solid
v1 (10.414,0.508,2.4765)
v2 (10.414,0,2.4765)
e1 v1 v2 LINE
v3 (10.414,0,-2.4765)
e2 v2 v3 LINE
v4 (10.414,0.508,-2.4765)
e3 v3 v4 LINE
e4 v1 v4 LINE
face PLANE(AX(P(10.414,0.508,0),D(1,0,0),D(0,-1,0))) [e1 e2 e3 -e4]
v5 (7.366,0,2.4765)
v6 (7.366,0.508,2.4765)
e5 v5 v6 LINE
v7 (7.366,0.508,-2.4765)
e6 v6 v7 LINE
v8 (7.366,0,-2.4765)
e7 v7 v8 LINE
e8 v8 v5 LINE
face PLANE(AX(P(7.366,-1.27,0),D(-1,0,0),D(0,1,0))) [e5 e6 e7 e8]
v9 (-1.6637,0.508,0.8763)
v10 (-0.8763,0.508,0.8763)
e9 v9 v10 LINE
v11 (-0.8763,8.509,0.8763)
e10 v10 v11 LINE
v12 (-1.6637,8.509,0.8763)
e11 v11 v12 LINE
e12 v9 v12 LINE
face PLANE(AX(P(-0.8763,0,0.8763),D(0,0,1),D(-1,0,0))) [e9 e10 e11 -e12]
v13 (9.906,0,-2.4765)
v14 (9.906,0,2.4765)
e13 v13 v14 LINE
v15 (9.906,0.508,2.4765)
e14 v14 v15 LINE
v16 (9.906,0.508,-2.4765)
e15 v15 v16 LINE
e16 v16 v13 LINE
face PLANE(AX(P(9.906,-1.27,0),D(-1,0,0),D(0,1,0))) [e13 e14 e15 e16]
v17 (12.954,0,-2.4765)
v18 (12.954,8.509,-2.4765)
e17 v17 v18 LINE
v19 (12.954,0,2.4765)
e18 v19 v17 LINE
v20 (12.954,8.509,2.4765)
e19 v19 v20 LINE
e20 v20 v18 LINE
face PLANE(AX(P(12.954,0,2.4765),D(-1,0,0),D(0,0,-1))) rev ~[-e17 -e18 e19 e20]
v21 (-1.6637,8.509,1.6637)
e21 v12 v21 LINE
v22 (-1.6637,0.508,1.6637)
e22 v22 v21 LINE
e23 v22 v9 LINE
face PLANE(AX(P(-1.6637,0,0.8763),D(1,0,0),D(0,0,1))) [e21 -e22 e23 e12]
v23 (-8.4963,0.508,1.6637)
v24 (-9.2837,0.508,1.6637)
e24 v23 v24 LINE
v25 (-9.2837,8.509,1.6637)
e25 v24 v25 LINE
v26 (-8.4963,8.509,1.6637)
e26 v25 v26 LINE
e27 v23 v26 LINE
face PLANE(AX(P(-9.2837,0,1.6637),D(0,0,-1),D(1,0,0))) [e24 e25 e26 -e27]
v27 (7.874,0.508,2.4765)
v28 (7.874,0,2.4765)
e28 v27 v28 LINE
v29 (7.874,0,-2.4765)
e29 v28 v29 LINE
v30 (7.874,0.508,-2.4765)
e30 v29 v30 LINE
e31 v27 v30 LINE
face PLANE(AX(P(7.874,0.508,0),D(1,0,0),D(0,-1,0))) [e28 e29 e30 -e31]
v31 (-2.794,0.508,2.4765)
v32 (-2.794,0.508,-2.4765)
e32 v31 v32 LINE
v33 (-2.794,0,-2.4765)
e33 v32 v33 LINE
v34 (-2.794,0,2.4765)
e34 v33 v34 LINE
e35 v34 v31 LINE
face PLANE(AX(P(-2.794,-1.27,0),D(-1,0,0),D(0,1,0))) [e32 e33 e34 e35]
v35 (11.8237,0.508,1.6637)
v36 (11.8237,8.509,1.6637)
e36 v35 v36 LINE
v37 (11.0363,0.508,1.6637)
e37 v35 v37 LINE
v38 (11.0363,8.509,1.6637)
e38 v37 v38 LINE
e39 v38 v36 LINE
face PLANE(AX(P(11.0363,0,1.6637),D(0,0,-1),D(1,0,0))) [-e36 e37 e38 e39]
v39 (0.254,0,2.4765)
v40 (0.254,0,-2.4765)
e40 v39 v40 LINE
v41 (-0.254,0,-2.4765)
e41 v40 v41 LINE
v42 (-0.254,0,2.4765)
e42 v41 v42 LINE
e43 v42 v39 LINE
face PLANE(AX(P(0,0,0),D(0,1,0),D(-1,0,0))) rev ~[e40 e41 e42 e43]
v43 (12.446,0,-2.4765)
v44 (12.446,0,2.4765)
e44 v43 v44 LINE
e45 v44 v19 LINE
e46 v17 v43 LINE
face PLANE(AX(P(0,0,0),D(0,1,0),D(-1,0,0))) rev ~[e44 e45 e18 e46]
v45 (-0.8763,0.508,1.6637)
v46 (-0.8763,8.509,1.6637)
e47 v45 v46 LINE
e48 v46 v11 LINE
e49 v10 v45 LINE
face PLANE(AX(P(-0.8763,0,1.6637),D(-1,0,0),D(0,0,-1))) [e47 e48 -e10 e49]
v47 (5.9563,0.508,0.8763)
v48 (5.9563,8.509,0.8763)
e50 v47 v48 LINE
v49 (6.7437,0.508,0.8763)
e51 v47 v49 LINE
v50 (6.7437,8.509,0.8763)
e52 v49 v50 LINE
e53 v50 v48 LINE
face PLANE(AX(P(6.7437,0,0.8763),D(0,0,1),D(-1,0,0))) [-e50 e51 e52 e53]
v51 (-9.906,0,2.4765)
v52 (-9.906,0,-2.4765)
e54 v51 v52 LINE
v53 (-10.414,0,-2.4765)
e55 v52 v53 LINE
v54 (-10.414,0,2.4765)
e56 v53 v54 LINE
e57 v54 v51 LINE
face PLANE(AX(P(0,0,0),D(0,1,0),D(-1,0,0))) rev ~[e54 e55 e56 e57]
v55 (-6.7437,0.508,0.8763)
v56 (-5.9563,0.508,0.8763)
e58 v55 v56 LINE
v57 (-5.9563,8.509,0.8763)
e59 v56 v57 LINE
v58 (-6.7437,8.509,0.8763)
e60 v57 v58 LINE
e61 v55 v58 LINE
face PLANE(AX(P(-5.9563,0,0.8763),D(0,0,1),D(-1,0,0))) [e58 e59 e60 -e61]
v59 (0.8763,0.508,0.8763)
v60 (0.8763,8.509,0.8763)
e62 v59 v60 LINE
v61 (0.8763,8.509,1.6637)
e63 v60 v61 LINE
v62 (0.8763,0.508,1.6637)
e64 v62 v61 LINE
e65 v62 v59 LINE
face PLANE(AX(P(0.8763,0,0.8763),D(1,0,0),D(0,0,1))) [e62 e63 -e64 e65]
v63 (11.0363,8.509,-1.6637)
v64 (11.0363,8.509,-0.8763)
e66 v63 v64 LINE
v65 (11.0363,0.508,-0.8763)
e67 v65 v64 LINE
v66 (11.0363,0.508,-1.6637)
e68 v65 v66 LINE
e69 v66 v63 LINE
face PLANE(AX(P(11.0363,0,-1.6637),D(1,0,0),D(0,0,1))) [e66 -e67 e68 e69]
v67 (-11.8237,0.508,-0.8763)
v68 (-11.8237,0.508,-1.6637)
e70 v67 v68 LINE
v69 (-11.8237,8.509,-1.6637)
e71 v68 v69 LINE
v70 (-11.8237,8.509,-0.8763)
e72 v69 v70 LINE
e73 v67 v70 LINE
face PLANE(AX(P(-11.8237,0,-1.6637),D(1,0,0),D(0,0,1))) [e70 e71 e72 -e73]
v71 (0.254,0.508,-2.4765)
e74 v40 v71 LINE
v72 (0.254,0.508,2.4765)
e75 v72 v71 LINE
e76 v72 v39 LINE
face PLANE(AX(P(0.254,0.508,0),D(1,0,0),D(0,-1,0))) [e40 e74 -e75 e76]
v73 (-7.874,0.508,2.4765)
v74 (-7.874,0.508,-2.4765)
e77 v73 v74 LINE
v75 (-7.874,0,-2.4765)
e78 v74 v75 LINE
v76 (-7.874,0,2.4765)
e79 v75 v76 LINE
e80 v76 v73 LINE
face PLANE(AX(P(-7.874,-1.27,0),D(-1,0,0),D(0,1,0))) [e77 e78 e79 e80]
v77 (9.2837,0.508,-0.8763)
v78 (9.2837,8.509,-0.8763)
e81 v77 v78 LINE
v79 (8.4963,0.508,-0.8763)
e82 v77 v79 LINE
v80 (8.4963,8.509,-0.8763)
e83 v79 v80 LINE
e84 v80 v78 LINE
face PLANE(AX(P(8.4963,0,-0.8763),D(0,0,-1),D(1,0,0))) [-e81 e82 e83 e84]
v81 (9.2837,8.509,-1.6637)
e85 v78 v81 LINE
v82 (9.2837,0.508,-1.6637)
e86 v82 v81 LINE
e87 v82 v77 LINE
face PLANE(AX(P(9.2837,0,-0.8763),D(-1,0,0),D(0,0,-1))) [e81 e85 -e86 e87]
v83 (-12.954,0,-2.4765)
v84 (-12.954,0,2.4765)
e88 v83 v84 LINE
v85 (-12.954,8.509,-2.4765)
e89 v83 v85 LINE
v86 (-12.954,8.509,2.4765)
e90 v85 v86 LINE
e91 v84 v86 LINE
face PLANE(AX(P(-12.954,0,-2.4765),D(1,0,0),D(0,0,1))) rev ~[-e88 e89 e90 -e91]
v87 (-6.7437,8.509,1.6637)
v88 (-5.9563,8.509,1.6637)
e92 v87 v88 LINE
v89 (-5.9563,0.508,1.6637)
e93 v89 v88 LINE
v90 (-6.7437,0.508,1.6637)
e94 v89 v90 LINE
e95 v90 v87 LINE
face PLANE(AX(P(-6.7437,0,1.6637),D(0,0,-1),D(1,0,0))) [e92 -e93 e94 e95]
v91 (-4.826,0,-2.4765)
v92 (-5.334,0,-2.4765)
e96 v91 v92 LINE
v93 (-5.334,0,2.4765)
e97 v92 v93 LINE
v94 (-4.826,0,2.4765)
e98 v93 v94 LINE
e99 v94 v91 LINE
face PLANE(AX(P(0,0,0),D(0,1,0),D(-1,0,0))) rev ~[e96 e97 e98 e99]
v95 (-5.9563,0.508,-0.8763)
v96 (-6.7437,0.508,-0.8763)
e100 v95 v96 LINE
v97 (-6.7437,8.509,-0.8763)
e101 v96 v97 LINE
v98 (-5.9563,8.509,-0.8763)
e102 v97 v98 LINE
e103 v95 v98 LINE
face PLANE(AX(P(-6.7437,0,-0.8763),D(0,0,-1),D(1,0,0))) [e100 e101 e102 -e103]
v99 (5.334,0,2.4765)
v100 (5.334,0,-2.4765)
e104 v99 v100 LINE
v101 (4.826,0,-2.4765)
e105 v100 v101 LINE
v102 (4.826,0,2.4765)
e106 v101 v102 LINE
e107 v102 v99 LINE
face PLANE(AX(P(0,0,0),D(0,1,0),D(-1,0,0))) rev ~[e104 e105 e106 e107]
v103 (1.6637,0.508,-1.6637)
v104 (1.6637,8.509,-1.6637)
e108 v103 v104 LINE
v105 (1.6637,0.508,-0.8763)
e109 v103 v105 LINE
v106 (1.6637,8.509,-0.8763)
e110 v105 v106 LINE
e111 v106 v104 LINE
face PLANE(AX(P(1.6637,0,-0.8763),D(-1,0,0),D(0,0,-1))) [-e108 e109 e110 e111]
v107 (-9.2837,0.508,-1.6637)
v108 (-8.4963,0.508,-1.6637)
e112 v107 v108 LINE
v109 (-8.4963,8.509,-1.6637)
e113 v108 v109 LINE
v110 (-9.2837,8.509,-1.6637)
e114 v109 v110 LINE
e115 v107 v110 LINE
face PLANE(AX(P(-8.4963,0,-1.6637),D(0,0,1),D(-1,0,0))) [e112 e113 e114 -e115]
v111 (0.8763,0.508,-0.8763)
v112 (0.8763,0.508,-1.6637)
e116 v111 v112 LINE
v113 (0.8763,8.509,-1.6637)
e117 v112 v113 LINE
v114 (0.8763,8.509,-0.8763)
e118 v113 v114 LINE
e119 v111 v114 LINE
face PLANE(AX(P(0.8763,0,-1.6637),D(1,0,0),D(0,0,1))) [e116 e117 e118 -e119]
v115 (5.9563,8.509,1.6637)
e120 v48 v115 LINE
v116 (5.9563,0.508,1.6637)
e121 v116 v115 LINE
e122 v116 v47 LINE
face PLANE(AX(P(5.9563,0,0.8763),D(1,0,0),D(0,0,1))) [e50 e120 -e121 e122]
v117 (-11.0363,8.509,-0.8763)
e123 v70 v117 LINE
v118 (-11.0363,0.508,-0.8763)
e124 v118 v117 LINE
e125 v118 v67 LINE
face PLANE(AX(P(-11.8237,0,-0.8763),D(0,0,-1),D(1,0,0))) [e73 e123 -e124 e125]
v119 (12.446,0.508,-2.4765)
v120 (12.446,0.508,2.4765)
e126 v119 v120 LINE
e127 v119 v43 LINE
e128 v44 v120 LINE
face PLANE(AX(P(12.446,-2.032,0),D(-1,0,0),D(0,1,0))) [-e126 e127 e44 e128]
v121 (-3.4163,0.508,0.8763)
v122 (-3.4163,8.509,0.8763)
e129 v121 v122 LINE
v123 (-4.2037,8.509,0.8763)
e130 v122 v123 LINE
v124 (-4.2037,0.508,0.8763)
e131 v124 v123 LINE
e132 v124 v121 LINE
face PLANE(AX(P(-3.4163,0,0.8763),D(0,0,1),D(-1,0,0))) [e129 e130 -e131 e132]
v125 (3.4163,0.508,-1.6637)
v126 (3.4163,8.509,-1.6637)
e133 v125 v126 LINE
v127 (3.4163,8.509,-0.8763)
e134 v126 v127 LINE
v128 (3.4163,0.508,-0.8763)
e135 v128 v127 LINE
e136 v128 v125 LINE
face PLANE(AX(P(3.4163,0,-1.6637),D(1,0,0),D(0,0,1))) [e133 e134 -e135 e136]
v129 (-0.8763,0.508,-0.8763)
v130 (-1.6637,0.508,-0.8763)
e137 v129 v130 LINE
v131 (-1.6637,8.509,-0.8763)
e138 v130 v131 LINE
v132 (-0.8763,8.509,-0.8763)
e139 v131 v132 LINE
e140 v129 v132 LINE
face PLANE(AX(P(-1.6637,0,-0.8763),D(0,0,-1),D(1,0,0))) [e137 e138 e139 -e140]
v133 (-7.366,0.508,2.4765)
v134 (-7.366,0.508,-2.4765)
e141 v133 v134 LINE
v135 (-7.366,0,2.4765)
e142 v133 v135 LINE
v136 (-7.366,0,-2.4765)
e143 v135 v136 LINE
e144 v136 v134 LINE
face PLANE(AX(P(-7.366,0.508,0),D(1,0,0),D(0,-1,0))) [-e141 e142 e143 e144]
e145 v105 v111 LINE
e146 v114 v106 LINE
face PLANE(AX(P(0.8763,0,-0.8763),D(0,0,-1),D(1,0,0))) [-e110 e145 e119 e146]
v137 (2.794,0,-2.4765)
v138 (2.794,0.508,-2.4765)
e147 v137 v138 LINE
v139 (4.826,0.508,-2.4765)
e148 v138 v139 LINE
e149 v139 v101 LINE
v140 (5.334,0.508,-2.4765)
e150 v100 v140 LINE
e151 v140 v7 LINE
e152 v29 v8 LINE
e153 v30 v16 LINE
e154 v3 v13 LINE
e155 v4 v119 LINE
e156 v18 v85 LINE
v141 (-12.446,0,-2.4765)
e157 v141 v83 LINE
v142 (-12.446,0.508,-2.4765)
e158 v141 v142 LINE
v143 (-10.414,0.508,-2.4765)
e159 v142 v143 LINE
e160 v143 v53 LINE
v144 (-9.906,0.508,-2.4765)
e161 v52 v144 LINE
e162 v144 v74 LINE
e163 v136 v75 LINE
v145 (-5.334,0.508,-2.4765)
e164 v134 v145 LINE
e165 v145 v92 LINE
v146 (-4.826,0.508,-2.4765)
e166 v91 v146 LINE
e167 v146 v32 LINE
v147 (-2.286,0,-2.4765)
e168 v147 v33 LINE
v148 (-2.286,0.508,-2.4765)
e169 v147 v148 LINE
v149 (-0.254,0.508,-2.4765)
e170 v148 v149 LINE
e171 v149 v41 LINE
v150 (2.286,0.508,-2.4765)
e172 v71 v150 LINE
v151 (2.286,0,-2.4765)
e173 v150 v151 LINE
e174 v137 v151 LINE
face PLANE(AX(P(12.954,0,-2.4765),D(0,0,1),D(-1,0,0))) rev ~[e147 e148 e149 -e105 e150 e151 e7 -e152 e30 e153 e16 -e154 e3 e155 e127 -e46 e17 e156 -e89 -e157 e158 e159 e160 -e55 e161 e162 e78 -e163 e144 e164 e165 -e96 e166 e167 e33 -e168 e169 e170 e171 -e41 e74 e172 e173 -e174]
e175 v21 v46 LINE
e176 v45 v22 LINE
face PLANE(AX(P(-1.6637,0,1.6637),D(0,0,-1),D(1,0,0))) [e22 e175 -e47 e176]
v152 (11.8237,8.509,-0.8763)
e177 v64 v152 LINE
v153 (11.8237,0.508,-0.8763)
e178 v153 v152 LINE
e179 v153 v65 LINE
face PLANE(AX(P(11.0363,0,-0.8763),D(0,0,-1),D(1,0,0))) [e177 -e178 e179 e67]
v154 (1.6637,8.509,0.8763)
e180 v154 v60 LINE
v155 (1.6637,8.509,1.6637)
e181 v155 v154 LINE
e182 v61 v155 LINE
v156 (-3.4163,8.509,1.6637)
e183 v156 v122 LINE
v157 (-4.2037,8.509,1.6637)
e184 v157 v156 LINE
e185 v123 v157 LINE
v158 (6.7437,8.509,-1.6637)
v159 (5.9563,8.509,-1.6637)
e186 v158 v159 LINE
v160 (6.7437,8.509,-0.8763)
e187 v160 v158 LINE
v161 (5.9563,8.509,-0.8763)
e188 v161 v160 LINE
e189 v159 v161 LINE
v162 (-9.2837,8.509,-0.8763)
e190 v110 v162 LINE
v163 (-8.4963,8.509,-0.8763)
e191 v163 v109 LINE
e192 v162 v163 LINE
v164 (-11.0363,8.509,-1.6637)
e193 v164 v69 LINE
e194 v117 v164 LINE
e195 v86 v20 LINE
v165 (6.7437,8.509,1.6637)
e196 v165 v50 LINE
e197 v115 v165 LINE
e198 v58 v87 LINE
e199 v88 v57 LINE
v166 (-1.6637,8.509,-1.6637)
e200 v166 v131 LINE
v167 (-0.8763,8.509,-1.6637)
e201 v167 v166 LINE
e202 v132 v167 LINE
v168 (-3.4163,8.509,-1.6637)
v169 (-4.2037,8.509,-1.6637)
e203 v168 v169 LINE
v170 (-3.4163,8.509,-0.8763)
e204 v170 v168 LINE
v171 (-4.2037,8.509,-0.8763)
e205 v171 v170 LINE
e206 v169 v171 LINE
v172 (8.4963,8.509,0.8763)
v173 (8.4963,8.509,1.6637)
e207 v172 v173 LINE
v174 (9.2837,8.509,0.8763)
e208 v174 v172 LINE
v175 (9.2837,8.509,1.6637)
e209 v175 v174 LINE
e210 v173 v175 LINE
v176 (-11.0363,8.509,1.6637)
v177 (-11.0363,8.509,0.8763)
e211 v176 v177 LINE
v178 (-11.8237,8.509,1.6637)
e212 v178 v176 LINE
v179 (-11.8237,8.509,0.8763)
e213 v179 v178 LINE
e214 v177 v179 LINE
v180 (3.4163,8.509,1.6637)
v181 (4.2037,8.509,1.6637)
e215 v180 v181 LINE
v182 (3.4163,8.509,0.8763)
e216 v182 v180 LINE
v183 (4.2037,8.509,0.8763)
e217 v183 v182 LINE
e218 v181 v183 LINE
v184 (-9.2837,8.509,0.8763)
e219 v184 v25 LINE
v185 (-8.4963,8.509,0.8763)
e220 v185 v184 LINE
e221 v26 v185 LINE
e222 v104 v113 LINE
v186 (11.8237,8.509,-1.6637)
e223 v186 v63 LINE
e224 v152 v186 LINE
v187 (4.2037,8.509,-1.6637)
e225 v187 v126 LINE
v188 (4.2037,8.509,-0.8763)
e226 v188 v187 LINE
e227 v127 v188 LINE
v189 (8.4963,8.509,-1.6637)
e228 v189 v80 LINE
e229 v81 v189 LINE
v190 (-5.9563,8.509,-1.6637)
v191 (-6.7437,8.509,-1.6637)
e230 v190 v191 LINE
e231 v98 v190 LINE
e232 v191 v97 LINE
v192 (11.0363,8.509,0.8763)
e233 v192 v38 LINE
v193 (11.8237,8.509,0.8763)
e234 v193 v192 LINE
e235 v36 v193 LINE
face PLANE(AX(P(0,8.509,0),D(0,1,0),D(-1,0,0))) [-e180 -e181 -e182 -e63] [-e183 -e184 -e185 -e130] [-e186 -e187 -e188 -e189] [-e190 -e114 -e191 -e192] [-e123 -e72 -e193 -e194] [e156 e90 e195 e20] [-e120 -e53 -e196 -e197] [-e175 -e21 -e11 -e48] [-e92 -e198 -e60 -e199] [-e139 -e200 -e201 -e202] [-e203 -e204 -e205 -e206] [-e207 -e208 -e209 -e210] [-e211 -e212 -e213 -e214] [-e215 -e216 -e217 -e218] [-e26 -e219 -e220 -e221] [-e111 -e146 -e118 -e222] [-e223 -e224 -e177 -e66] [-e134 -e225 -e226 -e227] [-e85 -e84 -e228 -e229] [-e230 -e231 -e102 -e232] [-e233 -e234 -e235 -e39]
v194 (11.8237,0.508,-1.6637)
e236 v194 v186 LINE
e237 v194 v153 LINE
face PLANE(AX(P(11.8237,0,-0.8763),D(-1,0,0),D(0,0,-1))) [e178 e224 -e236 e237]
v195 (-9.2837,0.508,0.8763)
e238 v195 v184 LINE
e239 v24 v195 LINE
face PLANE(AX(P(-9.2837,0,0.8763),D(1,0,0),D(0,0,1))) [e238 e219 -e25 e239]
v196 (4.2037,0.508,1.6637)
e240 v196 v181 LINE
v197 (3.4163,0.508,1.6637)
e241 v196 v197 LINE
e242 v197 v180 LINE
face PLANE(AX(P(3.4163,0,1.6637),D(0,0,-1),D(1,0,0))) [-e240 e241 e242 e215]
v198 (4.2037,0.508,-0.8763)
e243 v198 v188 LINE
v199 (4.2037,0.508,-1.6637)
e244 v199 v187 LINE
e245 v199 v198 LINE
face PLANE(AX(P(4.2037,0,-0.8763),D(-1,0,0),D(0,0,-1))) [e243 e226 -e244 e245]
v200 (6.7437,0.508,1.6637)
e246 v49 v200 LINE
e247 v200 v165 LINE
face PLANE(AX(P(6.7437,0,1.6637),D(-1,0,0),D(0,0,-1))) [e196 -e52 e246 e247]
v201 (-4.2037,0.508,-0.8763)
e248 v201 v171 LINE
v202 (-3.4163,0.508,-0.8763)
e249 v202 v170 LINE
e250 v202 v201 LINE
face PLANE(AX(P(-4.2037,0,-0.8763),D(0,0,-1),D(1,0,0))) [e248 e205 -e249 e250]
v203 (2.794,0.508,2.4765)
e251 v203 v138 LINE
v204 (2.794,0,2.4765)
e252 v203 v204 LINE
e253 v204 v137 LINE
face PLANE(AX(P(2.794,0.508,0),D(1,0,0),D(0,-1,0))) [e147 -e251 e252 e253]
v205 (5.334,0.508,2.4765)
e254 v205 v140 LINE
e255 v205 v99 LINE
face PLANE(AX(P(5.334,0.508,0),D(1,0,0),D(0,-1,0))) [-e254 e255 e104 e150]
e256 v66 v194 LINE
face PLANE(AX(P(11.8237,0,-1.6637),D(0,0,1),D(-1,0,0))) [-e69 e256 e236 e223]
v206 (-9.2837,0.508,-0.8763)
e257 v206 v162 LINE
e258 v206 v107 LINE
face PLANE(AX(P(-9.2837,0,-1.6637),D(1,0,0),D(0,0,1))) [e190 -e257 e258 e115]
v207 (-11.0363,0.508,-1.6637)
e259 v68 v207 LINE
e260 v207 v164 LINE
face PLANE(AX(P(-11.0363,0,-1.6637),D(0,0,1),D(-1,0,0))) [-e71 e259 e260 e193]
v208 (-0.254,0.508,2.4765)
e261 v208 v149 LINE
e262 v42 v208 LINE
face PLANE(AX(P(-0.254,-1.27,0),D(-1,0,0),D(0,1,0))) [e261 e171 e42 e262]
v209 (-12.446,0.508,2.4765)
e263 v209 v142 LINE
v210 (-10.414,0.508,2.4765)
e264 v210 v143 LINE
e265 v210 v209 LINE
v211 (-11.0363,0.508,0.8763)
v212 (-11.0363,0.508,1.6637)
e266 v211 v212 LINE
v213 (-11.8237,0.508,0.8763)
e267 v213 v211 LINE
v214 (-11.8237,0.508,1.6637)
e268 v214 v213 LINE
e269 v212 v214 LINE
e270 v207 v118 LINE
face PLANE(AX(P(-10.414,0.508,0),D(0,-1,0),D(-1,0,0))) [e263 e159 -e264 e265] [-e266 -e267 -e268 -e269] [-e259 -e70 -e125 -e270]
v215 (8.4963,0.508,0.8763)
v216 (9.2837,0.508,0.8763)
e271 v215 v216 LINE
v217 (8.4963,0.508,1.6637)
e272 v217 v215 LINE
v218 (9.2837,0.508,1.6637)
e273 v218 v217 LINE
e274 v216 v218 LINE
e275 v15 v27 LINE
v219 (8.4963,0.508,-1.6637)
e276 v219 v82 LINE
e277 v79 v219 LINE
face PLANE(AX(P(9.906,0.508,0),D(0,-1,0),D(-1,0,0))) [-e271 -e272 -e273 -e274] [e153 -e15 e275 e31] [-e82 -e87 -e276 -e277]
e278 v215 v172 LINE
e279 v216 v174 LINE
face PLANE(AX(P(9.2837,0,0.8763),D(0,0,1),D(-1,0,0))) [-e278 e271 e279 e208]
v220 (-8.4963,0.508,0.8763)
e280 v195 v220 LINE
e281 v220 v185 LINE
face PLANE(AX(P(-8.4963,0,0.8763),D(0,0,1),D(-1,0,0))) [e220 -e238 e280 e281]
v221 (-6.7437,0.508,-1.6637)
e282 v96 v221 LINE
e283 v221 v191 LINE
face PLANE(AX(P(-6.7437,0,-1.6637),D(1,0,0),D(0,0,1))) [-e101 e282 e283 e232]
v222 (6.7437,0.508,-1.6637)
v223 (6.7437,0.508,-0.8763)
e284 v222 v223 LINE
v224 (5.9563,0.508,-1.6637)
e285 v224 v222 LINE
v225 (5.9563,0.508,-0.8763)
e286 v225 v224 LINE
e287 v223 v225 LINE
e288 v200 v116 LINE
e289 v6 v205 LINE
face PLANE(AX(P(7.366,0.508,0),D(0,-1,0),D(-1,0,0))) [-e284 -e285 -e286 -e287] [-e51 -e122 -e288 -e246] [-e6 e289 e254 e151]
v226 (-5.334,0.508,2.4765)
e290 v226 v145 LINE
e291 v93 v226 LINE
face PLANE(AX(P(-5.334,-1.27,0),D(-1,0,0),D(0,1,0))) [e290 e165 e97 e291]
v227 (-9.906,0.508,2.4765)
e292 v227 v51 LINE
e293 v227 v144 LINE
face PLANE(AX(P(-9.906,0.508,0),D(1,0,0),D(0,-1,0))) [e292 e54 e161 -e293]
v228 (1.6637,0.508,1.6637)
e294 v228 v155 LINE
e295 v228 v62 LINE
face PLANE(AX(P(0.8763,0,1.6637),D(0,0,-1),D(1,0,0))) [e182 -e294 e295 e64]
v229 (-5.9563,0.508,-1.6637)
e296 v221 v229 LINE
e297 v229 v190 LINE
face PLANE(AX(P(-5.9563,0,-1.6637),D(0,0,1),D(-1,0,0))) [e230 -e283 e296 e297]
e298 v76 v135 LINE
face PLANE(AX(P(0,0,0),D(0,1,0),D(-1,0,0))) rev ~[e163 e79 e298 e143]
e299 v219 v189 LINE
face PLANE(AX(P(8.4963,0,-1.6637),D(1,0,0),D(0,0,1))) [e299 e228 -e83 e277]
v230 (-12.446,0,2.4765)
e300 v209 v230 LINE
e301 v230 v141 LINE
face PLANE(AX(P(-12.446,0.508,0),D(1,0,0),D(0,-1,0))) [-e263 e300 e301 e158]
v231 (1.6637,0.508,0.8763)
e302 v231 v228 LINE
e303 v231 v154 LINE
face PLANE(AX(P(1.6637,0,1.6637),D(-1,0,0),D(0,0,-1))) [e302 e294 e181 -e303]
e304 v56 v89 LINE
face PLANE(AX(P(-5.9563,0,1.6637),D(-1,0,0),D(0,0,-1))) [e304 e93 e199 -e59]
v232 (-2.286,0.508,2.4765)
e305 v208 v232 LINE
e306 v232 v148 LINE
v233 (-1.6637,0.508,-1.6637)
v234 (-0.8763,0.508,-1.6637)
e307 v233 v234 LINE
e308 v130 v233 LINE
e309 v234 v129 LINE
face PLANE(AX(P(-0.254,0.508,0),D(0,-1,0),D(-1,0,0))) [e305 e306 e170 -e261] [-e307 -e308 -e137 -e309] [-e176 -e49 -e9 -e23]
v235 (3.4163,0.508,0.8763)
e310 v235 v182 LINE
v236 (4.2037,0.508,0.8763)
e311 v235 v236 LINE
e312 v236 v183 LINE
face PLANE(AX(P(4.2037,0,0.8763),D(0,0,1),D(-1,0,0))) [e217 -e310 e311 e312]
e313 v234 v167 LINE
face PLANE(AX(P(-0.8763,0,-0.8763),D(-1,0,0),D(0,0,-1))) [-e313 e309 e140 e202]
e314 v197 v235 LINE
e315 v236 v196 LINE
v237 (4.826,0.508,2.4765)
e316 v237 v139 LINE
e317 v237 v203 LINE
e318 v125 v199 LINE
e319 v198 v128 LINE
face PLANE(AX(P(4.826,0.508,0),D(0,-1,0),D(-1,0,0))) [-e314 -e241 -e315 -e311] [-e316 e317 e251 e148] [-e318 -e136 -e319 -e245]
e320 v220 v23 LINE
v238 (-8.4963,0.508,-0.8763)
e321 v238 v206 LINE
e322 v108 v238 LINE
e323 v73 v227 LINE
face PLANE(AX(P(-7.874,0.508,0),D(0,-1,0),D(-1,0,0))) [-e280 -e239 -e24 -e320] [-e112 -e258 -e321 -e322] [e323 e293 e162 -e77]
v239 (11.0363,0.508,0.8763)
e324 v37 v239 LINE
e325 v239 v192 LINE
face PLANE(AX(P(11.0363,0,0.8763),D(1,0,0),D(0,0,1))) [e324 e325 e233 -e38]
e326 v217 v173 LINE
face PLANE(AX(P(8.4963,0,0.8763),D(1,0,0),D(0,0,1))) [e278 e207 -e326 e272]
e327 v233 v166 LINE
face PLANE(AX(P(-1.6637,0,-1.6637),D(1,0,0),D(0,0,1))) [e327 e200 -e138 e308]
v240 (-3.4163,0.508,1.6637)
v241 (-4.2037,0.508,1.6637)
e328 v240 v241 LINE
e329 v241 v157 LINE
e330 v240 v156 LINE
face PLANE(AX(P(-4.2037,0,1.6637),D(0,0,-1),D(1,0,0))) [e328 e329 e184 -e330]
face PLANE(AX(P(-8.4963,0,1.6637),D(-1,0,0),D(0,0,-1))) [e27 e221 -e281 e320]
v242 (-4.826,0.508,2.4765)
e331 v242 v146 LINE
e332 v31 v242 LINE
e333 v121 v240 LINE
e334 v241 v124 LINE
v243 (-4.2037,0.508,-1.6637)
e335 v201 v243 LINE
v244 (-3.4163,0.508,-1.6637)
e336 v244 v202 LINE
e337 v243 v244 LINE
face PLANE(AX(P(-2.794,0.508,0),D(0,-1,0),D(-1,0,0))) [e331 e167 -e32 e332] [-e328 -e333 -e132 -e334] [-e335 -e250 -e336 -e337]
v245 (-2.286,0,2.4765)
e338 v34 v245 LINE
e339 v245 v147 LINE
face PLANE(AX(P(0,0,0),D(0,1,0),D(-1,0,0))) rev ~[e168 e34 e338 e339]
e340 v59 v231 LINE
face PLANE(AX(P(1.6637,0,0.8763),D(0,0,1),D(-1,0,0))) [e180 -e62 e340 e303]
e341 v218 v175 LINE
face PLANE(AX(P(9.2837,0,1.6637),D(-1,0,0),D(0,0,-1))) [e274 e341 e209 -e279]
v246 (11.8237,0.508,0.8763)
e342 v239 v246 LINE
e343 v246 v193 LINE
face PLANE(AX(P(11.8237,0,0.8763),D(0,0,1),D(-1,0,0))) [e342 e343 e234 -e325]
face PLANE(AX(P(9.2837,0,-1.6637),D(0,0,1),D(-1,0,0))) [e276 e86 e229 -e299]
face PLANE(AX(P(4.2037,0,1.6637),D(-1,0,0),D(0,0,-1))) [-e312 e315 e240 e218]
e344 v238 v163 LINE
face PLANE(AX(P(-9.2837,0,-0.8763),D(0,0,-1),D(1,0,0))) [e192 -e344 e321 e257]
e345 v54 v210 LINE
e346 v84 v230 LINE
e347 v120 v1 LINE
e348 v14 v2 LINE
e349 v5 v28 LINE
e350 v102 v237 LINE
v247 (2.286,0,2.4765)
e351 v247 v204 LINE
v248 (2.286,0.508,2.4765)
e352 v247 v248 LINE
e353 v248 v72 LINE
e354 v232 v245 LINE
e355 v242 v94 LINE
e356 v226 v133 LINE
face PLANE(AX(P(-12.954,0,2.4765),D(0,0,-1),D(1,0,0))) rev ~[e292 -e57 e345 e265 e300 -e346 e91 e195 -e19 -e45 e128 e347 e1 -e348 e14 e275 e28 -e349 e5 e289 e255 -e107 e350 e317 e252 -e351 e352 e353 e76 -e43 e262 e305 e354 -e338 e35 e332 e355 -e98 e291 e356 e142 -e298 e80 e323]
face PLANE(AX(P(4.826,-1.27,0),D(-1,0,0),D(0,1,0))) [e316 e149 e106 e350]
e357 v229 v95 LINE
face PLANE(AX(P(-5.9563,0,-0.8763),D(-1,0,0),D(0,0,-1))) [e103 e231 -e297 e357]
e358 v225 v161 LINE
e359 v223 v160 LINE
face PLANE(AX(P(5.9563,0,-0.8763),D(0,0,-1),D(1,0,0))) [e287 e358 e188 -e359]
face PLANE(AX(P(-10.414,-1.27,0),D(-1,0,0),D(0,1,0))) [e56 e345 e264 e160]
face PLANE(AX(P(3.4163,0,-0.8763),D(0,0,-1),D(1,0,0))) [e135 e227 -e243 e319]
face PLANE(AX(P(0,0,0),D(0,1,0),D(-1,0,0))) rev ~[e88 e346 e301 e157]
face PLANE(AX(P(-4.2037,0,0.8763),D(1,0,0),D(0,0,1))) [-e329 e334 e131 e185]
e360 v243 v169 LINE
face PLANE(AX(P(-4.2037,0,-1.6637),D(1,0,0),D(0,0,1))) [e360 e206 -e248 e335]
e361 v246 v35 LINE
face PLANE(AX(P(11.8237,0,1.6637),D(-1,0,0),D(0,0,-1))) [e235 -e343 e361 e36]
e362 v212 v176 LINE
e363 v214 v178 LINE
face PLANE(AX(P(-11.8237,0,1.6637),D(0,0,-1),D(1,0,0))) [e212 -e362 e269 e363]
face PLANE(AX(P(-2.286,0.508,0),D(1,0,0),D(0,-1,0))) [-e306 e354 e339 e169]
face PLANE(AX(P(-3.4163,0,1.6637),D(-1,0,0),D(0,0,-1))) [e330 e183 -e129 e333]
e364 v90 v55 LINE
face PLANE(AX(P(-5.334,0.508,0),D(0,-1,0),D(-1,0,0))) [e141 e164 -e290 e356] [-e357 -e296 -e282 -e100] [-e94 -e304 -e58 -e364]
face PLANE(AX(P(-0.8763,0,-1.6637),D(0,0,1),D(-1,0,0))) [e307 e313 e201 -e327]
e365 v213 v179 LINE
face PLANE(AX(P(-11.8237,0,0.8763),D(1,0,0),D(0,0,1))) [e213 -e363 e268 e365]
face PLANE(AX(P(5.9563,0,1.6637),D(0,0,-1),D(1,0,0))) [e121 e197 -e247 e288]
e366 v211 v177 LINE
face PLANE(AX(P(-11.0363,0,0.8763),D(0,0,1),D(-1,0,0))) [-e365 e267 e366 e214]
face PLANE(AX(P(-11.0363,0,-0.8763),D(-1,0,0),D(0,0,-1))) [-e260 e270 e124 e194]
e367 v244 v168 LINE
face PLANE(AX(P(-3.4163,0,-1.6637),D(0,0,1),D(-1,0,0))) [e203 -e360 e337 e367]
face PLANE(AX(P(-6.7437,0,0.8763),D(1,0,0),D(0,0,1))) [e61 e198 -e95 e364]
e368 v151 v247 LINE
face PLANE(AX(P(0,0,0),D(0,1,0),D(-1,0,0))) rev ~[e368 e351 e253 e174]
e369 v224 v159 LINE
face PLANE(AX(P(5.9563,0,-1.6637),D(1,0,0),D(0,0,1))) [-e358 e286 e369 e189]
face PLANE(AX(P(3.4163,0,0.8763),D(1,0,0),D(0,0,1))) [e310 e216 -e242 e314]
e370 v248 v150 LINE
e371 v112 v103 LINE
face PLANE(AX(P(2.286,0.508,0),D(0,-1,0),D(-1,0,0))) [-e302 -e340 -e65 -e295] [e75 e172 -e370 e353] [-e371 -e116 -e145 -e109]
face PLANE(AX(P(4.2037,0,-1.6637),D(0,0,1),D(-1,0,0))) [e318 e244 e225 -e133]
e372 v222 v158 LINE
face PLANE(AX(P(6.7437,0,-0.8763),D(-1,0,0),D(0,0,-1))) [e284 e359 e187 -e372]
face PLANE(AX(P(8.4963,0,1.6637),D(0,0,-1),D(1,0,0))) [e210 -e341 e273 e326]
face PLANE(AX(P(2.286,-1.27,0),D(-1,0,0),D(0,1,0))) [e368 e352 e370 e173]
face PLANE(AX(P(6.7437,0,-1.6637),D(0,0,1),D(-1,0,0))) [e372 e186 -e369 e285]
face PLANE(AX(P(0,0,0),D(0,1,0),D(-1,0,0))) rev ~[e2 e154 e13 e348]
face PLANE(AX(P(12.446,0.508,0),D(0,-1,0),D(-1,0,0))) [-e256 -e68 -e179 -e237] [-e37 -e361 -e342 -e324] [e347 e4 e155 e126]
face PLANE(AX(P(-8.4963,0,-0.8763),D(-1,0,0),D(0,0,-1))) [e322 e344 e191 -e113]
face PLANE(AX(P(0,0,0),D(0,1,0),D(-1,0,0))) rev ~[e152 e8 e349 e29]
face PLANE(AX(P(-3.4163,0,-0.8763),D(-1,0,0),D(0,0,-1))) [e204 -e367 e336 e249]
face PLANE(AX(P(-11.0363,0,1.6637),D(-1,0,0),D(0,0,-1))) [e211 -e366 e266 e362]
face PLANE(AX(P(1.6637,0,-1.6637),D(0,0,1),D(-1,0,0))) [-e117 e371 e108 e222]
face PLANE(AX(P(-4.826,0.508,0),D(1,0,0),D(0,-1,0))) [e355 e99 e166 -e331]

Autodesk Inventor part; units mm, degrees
sketch "Sketch_1" plane through (0, 0, 0) normal (0, 1, 0) x (-1, 0, 0)
  line L0 (12.954, -2.4765) -> (12.954, 2.4765)
  line L1 (12.954, 2.4765) -> (-12.954, 2.4765)
  line L2 (-12.954, 2.4765) -> (-12.954, -2.4765)
  line L3 (-12.954, -2.4765) -> (12.954, -2.4765)
  line L4 (-11.0363, 0.8763) -> (-11.0363, 1.6637)
  line L5 (-11.0363, 1.6637) -> (-11.8237, 1.6637)
  line L6 (-11.8237, 1.6637) -> (-11.8237, 0.8763)
  line L7 (-11.8237, 0.8763) -> (-11.0363, 0.8763)
  line L8 (-11.0363, -1.6637) -> (-11.0363, -0.8763)
  line L9 (-11.0363, -0.8763) -> (-11.8237, -0.8763)
  line L10 (-11.8237, -0.8763) -> (-11.8237, -1.6637)
  line L11 (-11.8237, -1.6637) -> (-11.0363, -1.6637)
  line L12 (-8.4963, 0.8763) -> (-8.4963, 1.6637)
  line L13 (-8.4963, 1.6637) -> (-9.2837, 1.6637)
  line L14 (-9.2837, 1.6637) -> (-9.2837, 0.8763)
  line L15 (-9.2837, 0.8763) -> (-8.4963, 0.8763)
  line L16 (-8.4963, -1.6637) -> (-8.4963, -0.8763)
  line L17 (-8.4963, -0.8763) -> (-9.2837, -0.8763)
  line L18 (-9.2837, -0.8763) -> (-9.2837, -1.6637)
  line L19 (-9.2837, -1.6637) -> (-8.4963, -1.6637)
  line L20 (-5.9563, 0.8763) -> (-5.9563, 1.6637)
  line L21 (-5.9563, 1.6637) -> (-6.7437, 1.6637)
  line L22 (-6.7437, 1.6637) -> (-6.7437, 0.8763)
  line L23 (-6.7437, 0.8763) -> (-5.9563, 0.8763)
  line L24 (-5.9563, -1.6637) -> (-5.9563, -0.8763)
  line L25 (-5.9563, -0.8763) -> (-6.7437, -0.8763)
  line L26 (-6.7437, -0.8763) -> (-6.7437, -1.6637)
  line L27 (-6.7437, -1.6637) -> (-5.9563, -1.6637)
  line L28 (-3.4163, 0.8763) -> (-3.4163, 1.6637)
  line L29 (-3.4163, 1.6637) -> (-4.2037, 1.6637)
  line L30 (-4.2037, 1.6637) -> (-4.2037, 0.8763)
  line L31 (-4.2037, 0.8763) -> (-3.4163, 0.8763)
  line L32 (-3.4163, -1.6637) -> (-3.4163, -0.8763)
  line L33 (-3.4163, -0.8763) -> (-4.2037, -0.8763)
  line L34 (-4.2037, -0.8763) -> (-4.2037, -1.6637)
  line L35 (-4.2037, -1.6637) -> (-3.4163, -1.6637)
  line L36 (-0.8763, 0.8763) -> (-0.8763, 1.6637)
  line L37 (-0.8763, 1.6637) -> (-1.6637, 1.6637)
  line L38 (-1.6637, 1.6637) -> (-1.6637, 0.8763)
  line L39 (-1.6637, 0.8763) -> (-0.8763, 0.8763)
  line L40 (-0.8763, -1.6637) -> (-0.8763, -0.8763)
  line L41 (-0.8763, -0.8763) -> (-1.6637, -0.8763)
  line L42 (-1.6637, -0.8763) -> (-1.6637, -1.6637)
  line L43 (-1.6637, -1.6637) -> (-0.8763, -1.6637)
  line L44 (1.6637, 0.8763) -> (1.6637, 1.6637)
  line L45 (1.6637, 1.6637) -> (0.8763, 1.6637)
  line L46 (0.8763, 1.6637) -> (0.8763, 0.8763)
  line L47 (0.8763, 0.8763) -> (1.6637, 0.8763)
  line L48 (1.6637, -1.6637) -> (1.6637, -0.8763)
  line L49 (1.6637, -0.8763) -> (0.8763, -0.8763)
  line L50 (0.8763, -0.8763) -> (0.8763, -1.6637)
  line L51 (0.8763, -1.6637) -> (1.6637, -1.6637)
  line L52 (4.2037, 0.8763) -> (4.2037, 1.6637)
  line L53 (4.2037, 1.6637) -> (3.4163, 1.6637)
  line L54 (3.4163, 1.6637) -> (3.4163, 0.8763)
  line L55 (3.4163, 0.8763) -> (4.2037, 0.8763)
  line L56 (4.2037, -1.6637) -> (4.2037, -0.8763)
  line L57 (4.2037, -0.8763) -> (3.4163, -0.8763)
  line L58 (3.4163, -0.8763) -> (3.4163, -1.6637)
  line L59 (3.4163, -1.6637) -> (4.2037, -1.6637)
  line L60 (6.7437, 0.8763) -> (6.7437, 1.6637)
  line L61 (6.7437, 1.6637) -> (5.9563, 1.6637)
  line L62 (5.9563, 1.6637) -> (5.9563, 0.8763)
  line L63 (5.9563, 0.8763) -> (6.7437, 0.8763)
  line L64 (6.7437, -1.6637) -> (6.7437, -0.8763)
  line L65 (6.7437, -0.8763) -> (5.9563, -0.8763)
  line L66 (5.9563, -0.8763) -> (5.9563, -1.6637)
  line L67 (5.9563, -1.6637) -> (6.7437, -1.6637)
  line L68 (9.2837, 0.8763) -> (9.2837, 1.6637)
  line L69 (9.2837, 1.6637) -> (8.4963, 1.6637)
  line L70 (8.4963, 1.6637) -> (8.4963, 0.8763)
  line L71 (8.4963, 0.8763) -> (9.2837, 0.8763)
  line L72 (9.2837, -1.6637) -> (9.2837, -0.8763)
  line L73 (9.2837, -0.8763) -> (8.4963, -0.8763)
  line L74 (8.4963, -0.8763) -> (8.4963, -1.6637)
  line L75 (8.4963, -1.6637) -> (9.2837, -1.6637)
  line L76 (11.8237, 0.8763) -> (11.8237, 1.6637)
  line L77 (11.8237, 1.6637) -> (11.0363, 1.6637)
  line L78 (11.0363, 1.6637) -> (11.0363, 0.8763)
  line L79 (11.0363, 0.8763) -> (11.8237, 0.8763)
  line L80 (11.8237, -1.6637) -> (11.8237, -0.8763)
  line L81 (11.8237, -0.8763) -> (11.0363, -0.8763)
  line L82 (11.0363, -0.8763) -> (11.0363, -1.6637)
  line L83 (11.0363, -1.6637) -> (11.8237, -1.6637)
extrude "Extrusion1" add sketch "Sketch_1" along normal blind 8.509
sketch "Sketch_6" plane through (0, 0, 0) normal (0, 0, 1) x (1, 0, 0)
  line L0 (-12.446, -2.032) -> (12.446, -2.032)
  line L1 (12.446, -2.032) -> (12.446, 0.508)
  line L2 (12.446, 0.508) -> (10.414, 0.508)
  line L3 (10.414, 0.508) -> (10.414, -1.27)
  line L4 (10.414, -1.27) -> (9.906, -1.27)
  line L5 (9.906, -1.27) -> (9.906, 0.508)
  line L6 (9.906, 0.508) -> (7.874, 0.508)
  line L7 (7.874, 0.508) -> (7.874, -1.27)
  line L8 (7.874, -1.27) -> (7.366, -1.27)
  line L9 (7.366, -1.27) -> (7.366, 0.508)
  line L10 (7.366, 0.508) -> (5.334, 0.508)
  line L11 (5.334, 0.508) -> (5.334, -1.27)
  line L12 (5.334, -1.27) -> (4.826, -1.27)
  line L13 (4.826, -1.27) -> (4.826, 0.508)
  line L14 (4.826, 0.508) -> (2.794, 0.508)
  line L15 (2.794, 0.508) -> (2.794, -1.27)
  line L16 (2.794, -1.27) -> (2.286, -1.27)
  line L17 (2.286, -1.27) -> (2.286, 0.508)
  line L18 (2.286, 0.508) -> (0.254, 0.508)
  line L19 (0.254, 0.508) -> (0.254, -1.27)
  line L20 (0.254, -1.27) -> (-0.254, -1.27)
  line L21 (-0.254, -1.27) -> (-0.254, 0.508)
  line L22 (-0.254, 0.508) -> (-2.286, 0.508)
  line L23 (-2.286, 0.508) -> (-2.286, -1.27)
  line L24 (-2.286, -1.27) -> (-2.794, -1.27)
  line L25 (-2.794, -1.27) -> (-2.794, 0.508)
  line L26 (-2.794, 0.508) -> (-4.826, 0.508)
  line L27 (-4.826, 0.508) -> (-4.826, -1.27)
  line L28 (-4.826, -1.27) -> (-5.334, -1.27)
  line L29 (-5.334, -1.27) -> (-5.334, 0.508)
  line L30 (-5.334, 0.508) -> (-7.366, 0.508)
  line L31 (-7.366, 0.508) -> (-7.366, -1.27)
  line L32 (-7.366, -1.27) -> (-7.874, -1.27)
  line L33 (-7.874, -1.27) -> (-7.874, 0.508)
  line L34 (-7.874, 0.508) -> (-9.906, 0.508)
  line L35 (-9.906, 0.508) -> (-9.906, -1.27)
  line L36 (-9.906, -1.27) -> (-10.414, -1.27)
  line L37 (-10.414, -1.27) -> (-10.414, 0.508)
  line L38 (-10.414, 0.508) -> (-12.446, 0.508)
  line L39 (-12.446, 0.508) -> (-12.446, -2.032)
extrude "Extrusion2" cut sketch "Sketch_6" along normal mid plane 10.16
ref_plane "pin_XY" through (0, 0, 0) normal (0, 1, 0) x (1, 0, 0)
ref_plane "pin_YZ" through (0, 0, 0) normal (1, 0, 0) x (0, 0, -1)
ref_plane "pin_ZX" through (0, 0, 0) normal (0, 0, -1) x (0, 1, 0)
ref_plane "terminal_XY" through (0, 0, 0) normal (0, -1, 0) x (1, 0, 0)
ref_plane "terminal_YZ" through (0, 0, 0) normal (1, 0, 0) x (0, 0, 1)
ref_plane "terminal_ZX" through (0, 0, 0) normal (0, 0, 1) x (0, -1, 0)
properties part number "T1SSW-110-02-T-D-RA"
